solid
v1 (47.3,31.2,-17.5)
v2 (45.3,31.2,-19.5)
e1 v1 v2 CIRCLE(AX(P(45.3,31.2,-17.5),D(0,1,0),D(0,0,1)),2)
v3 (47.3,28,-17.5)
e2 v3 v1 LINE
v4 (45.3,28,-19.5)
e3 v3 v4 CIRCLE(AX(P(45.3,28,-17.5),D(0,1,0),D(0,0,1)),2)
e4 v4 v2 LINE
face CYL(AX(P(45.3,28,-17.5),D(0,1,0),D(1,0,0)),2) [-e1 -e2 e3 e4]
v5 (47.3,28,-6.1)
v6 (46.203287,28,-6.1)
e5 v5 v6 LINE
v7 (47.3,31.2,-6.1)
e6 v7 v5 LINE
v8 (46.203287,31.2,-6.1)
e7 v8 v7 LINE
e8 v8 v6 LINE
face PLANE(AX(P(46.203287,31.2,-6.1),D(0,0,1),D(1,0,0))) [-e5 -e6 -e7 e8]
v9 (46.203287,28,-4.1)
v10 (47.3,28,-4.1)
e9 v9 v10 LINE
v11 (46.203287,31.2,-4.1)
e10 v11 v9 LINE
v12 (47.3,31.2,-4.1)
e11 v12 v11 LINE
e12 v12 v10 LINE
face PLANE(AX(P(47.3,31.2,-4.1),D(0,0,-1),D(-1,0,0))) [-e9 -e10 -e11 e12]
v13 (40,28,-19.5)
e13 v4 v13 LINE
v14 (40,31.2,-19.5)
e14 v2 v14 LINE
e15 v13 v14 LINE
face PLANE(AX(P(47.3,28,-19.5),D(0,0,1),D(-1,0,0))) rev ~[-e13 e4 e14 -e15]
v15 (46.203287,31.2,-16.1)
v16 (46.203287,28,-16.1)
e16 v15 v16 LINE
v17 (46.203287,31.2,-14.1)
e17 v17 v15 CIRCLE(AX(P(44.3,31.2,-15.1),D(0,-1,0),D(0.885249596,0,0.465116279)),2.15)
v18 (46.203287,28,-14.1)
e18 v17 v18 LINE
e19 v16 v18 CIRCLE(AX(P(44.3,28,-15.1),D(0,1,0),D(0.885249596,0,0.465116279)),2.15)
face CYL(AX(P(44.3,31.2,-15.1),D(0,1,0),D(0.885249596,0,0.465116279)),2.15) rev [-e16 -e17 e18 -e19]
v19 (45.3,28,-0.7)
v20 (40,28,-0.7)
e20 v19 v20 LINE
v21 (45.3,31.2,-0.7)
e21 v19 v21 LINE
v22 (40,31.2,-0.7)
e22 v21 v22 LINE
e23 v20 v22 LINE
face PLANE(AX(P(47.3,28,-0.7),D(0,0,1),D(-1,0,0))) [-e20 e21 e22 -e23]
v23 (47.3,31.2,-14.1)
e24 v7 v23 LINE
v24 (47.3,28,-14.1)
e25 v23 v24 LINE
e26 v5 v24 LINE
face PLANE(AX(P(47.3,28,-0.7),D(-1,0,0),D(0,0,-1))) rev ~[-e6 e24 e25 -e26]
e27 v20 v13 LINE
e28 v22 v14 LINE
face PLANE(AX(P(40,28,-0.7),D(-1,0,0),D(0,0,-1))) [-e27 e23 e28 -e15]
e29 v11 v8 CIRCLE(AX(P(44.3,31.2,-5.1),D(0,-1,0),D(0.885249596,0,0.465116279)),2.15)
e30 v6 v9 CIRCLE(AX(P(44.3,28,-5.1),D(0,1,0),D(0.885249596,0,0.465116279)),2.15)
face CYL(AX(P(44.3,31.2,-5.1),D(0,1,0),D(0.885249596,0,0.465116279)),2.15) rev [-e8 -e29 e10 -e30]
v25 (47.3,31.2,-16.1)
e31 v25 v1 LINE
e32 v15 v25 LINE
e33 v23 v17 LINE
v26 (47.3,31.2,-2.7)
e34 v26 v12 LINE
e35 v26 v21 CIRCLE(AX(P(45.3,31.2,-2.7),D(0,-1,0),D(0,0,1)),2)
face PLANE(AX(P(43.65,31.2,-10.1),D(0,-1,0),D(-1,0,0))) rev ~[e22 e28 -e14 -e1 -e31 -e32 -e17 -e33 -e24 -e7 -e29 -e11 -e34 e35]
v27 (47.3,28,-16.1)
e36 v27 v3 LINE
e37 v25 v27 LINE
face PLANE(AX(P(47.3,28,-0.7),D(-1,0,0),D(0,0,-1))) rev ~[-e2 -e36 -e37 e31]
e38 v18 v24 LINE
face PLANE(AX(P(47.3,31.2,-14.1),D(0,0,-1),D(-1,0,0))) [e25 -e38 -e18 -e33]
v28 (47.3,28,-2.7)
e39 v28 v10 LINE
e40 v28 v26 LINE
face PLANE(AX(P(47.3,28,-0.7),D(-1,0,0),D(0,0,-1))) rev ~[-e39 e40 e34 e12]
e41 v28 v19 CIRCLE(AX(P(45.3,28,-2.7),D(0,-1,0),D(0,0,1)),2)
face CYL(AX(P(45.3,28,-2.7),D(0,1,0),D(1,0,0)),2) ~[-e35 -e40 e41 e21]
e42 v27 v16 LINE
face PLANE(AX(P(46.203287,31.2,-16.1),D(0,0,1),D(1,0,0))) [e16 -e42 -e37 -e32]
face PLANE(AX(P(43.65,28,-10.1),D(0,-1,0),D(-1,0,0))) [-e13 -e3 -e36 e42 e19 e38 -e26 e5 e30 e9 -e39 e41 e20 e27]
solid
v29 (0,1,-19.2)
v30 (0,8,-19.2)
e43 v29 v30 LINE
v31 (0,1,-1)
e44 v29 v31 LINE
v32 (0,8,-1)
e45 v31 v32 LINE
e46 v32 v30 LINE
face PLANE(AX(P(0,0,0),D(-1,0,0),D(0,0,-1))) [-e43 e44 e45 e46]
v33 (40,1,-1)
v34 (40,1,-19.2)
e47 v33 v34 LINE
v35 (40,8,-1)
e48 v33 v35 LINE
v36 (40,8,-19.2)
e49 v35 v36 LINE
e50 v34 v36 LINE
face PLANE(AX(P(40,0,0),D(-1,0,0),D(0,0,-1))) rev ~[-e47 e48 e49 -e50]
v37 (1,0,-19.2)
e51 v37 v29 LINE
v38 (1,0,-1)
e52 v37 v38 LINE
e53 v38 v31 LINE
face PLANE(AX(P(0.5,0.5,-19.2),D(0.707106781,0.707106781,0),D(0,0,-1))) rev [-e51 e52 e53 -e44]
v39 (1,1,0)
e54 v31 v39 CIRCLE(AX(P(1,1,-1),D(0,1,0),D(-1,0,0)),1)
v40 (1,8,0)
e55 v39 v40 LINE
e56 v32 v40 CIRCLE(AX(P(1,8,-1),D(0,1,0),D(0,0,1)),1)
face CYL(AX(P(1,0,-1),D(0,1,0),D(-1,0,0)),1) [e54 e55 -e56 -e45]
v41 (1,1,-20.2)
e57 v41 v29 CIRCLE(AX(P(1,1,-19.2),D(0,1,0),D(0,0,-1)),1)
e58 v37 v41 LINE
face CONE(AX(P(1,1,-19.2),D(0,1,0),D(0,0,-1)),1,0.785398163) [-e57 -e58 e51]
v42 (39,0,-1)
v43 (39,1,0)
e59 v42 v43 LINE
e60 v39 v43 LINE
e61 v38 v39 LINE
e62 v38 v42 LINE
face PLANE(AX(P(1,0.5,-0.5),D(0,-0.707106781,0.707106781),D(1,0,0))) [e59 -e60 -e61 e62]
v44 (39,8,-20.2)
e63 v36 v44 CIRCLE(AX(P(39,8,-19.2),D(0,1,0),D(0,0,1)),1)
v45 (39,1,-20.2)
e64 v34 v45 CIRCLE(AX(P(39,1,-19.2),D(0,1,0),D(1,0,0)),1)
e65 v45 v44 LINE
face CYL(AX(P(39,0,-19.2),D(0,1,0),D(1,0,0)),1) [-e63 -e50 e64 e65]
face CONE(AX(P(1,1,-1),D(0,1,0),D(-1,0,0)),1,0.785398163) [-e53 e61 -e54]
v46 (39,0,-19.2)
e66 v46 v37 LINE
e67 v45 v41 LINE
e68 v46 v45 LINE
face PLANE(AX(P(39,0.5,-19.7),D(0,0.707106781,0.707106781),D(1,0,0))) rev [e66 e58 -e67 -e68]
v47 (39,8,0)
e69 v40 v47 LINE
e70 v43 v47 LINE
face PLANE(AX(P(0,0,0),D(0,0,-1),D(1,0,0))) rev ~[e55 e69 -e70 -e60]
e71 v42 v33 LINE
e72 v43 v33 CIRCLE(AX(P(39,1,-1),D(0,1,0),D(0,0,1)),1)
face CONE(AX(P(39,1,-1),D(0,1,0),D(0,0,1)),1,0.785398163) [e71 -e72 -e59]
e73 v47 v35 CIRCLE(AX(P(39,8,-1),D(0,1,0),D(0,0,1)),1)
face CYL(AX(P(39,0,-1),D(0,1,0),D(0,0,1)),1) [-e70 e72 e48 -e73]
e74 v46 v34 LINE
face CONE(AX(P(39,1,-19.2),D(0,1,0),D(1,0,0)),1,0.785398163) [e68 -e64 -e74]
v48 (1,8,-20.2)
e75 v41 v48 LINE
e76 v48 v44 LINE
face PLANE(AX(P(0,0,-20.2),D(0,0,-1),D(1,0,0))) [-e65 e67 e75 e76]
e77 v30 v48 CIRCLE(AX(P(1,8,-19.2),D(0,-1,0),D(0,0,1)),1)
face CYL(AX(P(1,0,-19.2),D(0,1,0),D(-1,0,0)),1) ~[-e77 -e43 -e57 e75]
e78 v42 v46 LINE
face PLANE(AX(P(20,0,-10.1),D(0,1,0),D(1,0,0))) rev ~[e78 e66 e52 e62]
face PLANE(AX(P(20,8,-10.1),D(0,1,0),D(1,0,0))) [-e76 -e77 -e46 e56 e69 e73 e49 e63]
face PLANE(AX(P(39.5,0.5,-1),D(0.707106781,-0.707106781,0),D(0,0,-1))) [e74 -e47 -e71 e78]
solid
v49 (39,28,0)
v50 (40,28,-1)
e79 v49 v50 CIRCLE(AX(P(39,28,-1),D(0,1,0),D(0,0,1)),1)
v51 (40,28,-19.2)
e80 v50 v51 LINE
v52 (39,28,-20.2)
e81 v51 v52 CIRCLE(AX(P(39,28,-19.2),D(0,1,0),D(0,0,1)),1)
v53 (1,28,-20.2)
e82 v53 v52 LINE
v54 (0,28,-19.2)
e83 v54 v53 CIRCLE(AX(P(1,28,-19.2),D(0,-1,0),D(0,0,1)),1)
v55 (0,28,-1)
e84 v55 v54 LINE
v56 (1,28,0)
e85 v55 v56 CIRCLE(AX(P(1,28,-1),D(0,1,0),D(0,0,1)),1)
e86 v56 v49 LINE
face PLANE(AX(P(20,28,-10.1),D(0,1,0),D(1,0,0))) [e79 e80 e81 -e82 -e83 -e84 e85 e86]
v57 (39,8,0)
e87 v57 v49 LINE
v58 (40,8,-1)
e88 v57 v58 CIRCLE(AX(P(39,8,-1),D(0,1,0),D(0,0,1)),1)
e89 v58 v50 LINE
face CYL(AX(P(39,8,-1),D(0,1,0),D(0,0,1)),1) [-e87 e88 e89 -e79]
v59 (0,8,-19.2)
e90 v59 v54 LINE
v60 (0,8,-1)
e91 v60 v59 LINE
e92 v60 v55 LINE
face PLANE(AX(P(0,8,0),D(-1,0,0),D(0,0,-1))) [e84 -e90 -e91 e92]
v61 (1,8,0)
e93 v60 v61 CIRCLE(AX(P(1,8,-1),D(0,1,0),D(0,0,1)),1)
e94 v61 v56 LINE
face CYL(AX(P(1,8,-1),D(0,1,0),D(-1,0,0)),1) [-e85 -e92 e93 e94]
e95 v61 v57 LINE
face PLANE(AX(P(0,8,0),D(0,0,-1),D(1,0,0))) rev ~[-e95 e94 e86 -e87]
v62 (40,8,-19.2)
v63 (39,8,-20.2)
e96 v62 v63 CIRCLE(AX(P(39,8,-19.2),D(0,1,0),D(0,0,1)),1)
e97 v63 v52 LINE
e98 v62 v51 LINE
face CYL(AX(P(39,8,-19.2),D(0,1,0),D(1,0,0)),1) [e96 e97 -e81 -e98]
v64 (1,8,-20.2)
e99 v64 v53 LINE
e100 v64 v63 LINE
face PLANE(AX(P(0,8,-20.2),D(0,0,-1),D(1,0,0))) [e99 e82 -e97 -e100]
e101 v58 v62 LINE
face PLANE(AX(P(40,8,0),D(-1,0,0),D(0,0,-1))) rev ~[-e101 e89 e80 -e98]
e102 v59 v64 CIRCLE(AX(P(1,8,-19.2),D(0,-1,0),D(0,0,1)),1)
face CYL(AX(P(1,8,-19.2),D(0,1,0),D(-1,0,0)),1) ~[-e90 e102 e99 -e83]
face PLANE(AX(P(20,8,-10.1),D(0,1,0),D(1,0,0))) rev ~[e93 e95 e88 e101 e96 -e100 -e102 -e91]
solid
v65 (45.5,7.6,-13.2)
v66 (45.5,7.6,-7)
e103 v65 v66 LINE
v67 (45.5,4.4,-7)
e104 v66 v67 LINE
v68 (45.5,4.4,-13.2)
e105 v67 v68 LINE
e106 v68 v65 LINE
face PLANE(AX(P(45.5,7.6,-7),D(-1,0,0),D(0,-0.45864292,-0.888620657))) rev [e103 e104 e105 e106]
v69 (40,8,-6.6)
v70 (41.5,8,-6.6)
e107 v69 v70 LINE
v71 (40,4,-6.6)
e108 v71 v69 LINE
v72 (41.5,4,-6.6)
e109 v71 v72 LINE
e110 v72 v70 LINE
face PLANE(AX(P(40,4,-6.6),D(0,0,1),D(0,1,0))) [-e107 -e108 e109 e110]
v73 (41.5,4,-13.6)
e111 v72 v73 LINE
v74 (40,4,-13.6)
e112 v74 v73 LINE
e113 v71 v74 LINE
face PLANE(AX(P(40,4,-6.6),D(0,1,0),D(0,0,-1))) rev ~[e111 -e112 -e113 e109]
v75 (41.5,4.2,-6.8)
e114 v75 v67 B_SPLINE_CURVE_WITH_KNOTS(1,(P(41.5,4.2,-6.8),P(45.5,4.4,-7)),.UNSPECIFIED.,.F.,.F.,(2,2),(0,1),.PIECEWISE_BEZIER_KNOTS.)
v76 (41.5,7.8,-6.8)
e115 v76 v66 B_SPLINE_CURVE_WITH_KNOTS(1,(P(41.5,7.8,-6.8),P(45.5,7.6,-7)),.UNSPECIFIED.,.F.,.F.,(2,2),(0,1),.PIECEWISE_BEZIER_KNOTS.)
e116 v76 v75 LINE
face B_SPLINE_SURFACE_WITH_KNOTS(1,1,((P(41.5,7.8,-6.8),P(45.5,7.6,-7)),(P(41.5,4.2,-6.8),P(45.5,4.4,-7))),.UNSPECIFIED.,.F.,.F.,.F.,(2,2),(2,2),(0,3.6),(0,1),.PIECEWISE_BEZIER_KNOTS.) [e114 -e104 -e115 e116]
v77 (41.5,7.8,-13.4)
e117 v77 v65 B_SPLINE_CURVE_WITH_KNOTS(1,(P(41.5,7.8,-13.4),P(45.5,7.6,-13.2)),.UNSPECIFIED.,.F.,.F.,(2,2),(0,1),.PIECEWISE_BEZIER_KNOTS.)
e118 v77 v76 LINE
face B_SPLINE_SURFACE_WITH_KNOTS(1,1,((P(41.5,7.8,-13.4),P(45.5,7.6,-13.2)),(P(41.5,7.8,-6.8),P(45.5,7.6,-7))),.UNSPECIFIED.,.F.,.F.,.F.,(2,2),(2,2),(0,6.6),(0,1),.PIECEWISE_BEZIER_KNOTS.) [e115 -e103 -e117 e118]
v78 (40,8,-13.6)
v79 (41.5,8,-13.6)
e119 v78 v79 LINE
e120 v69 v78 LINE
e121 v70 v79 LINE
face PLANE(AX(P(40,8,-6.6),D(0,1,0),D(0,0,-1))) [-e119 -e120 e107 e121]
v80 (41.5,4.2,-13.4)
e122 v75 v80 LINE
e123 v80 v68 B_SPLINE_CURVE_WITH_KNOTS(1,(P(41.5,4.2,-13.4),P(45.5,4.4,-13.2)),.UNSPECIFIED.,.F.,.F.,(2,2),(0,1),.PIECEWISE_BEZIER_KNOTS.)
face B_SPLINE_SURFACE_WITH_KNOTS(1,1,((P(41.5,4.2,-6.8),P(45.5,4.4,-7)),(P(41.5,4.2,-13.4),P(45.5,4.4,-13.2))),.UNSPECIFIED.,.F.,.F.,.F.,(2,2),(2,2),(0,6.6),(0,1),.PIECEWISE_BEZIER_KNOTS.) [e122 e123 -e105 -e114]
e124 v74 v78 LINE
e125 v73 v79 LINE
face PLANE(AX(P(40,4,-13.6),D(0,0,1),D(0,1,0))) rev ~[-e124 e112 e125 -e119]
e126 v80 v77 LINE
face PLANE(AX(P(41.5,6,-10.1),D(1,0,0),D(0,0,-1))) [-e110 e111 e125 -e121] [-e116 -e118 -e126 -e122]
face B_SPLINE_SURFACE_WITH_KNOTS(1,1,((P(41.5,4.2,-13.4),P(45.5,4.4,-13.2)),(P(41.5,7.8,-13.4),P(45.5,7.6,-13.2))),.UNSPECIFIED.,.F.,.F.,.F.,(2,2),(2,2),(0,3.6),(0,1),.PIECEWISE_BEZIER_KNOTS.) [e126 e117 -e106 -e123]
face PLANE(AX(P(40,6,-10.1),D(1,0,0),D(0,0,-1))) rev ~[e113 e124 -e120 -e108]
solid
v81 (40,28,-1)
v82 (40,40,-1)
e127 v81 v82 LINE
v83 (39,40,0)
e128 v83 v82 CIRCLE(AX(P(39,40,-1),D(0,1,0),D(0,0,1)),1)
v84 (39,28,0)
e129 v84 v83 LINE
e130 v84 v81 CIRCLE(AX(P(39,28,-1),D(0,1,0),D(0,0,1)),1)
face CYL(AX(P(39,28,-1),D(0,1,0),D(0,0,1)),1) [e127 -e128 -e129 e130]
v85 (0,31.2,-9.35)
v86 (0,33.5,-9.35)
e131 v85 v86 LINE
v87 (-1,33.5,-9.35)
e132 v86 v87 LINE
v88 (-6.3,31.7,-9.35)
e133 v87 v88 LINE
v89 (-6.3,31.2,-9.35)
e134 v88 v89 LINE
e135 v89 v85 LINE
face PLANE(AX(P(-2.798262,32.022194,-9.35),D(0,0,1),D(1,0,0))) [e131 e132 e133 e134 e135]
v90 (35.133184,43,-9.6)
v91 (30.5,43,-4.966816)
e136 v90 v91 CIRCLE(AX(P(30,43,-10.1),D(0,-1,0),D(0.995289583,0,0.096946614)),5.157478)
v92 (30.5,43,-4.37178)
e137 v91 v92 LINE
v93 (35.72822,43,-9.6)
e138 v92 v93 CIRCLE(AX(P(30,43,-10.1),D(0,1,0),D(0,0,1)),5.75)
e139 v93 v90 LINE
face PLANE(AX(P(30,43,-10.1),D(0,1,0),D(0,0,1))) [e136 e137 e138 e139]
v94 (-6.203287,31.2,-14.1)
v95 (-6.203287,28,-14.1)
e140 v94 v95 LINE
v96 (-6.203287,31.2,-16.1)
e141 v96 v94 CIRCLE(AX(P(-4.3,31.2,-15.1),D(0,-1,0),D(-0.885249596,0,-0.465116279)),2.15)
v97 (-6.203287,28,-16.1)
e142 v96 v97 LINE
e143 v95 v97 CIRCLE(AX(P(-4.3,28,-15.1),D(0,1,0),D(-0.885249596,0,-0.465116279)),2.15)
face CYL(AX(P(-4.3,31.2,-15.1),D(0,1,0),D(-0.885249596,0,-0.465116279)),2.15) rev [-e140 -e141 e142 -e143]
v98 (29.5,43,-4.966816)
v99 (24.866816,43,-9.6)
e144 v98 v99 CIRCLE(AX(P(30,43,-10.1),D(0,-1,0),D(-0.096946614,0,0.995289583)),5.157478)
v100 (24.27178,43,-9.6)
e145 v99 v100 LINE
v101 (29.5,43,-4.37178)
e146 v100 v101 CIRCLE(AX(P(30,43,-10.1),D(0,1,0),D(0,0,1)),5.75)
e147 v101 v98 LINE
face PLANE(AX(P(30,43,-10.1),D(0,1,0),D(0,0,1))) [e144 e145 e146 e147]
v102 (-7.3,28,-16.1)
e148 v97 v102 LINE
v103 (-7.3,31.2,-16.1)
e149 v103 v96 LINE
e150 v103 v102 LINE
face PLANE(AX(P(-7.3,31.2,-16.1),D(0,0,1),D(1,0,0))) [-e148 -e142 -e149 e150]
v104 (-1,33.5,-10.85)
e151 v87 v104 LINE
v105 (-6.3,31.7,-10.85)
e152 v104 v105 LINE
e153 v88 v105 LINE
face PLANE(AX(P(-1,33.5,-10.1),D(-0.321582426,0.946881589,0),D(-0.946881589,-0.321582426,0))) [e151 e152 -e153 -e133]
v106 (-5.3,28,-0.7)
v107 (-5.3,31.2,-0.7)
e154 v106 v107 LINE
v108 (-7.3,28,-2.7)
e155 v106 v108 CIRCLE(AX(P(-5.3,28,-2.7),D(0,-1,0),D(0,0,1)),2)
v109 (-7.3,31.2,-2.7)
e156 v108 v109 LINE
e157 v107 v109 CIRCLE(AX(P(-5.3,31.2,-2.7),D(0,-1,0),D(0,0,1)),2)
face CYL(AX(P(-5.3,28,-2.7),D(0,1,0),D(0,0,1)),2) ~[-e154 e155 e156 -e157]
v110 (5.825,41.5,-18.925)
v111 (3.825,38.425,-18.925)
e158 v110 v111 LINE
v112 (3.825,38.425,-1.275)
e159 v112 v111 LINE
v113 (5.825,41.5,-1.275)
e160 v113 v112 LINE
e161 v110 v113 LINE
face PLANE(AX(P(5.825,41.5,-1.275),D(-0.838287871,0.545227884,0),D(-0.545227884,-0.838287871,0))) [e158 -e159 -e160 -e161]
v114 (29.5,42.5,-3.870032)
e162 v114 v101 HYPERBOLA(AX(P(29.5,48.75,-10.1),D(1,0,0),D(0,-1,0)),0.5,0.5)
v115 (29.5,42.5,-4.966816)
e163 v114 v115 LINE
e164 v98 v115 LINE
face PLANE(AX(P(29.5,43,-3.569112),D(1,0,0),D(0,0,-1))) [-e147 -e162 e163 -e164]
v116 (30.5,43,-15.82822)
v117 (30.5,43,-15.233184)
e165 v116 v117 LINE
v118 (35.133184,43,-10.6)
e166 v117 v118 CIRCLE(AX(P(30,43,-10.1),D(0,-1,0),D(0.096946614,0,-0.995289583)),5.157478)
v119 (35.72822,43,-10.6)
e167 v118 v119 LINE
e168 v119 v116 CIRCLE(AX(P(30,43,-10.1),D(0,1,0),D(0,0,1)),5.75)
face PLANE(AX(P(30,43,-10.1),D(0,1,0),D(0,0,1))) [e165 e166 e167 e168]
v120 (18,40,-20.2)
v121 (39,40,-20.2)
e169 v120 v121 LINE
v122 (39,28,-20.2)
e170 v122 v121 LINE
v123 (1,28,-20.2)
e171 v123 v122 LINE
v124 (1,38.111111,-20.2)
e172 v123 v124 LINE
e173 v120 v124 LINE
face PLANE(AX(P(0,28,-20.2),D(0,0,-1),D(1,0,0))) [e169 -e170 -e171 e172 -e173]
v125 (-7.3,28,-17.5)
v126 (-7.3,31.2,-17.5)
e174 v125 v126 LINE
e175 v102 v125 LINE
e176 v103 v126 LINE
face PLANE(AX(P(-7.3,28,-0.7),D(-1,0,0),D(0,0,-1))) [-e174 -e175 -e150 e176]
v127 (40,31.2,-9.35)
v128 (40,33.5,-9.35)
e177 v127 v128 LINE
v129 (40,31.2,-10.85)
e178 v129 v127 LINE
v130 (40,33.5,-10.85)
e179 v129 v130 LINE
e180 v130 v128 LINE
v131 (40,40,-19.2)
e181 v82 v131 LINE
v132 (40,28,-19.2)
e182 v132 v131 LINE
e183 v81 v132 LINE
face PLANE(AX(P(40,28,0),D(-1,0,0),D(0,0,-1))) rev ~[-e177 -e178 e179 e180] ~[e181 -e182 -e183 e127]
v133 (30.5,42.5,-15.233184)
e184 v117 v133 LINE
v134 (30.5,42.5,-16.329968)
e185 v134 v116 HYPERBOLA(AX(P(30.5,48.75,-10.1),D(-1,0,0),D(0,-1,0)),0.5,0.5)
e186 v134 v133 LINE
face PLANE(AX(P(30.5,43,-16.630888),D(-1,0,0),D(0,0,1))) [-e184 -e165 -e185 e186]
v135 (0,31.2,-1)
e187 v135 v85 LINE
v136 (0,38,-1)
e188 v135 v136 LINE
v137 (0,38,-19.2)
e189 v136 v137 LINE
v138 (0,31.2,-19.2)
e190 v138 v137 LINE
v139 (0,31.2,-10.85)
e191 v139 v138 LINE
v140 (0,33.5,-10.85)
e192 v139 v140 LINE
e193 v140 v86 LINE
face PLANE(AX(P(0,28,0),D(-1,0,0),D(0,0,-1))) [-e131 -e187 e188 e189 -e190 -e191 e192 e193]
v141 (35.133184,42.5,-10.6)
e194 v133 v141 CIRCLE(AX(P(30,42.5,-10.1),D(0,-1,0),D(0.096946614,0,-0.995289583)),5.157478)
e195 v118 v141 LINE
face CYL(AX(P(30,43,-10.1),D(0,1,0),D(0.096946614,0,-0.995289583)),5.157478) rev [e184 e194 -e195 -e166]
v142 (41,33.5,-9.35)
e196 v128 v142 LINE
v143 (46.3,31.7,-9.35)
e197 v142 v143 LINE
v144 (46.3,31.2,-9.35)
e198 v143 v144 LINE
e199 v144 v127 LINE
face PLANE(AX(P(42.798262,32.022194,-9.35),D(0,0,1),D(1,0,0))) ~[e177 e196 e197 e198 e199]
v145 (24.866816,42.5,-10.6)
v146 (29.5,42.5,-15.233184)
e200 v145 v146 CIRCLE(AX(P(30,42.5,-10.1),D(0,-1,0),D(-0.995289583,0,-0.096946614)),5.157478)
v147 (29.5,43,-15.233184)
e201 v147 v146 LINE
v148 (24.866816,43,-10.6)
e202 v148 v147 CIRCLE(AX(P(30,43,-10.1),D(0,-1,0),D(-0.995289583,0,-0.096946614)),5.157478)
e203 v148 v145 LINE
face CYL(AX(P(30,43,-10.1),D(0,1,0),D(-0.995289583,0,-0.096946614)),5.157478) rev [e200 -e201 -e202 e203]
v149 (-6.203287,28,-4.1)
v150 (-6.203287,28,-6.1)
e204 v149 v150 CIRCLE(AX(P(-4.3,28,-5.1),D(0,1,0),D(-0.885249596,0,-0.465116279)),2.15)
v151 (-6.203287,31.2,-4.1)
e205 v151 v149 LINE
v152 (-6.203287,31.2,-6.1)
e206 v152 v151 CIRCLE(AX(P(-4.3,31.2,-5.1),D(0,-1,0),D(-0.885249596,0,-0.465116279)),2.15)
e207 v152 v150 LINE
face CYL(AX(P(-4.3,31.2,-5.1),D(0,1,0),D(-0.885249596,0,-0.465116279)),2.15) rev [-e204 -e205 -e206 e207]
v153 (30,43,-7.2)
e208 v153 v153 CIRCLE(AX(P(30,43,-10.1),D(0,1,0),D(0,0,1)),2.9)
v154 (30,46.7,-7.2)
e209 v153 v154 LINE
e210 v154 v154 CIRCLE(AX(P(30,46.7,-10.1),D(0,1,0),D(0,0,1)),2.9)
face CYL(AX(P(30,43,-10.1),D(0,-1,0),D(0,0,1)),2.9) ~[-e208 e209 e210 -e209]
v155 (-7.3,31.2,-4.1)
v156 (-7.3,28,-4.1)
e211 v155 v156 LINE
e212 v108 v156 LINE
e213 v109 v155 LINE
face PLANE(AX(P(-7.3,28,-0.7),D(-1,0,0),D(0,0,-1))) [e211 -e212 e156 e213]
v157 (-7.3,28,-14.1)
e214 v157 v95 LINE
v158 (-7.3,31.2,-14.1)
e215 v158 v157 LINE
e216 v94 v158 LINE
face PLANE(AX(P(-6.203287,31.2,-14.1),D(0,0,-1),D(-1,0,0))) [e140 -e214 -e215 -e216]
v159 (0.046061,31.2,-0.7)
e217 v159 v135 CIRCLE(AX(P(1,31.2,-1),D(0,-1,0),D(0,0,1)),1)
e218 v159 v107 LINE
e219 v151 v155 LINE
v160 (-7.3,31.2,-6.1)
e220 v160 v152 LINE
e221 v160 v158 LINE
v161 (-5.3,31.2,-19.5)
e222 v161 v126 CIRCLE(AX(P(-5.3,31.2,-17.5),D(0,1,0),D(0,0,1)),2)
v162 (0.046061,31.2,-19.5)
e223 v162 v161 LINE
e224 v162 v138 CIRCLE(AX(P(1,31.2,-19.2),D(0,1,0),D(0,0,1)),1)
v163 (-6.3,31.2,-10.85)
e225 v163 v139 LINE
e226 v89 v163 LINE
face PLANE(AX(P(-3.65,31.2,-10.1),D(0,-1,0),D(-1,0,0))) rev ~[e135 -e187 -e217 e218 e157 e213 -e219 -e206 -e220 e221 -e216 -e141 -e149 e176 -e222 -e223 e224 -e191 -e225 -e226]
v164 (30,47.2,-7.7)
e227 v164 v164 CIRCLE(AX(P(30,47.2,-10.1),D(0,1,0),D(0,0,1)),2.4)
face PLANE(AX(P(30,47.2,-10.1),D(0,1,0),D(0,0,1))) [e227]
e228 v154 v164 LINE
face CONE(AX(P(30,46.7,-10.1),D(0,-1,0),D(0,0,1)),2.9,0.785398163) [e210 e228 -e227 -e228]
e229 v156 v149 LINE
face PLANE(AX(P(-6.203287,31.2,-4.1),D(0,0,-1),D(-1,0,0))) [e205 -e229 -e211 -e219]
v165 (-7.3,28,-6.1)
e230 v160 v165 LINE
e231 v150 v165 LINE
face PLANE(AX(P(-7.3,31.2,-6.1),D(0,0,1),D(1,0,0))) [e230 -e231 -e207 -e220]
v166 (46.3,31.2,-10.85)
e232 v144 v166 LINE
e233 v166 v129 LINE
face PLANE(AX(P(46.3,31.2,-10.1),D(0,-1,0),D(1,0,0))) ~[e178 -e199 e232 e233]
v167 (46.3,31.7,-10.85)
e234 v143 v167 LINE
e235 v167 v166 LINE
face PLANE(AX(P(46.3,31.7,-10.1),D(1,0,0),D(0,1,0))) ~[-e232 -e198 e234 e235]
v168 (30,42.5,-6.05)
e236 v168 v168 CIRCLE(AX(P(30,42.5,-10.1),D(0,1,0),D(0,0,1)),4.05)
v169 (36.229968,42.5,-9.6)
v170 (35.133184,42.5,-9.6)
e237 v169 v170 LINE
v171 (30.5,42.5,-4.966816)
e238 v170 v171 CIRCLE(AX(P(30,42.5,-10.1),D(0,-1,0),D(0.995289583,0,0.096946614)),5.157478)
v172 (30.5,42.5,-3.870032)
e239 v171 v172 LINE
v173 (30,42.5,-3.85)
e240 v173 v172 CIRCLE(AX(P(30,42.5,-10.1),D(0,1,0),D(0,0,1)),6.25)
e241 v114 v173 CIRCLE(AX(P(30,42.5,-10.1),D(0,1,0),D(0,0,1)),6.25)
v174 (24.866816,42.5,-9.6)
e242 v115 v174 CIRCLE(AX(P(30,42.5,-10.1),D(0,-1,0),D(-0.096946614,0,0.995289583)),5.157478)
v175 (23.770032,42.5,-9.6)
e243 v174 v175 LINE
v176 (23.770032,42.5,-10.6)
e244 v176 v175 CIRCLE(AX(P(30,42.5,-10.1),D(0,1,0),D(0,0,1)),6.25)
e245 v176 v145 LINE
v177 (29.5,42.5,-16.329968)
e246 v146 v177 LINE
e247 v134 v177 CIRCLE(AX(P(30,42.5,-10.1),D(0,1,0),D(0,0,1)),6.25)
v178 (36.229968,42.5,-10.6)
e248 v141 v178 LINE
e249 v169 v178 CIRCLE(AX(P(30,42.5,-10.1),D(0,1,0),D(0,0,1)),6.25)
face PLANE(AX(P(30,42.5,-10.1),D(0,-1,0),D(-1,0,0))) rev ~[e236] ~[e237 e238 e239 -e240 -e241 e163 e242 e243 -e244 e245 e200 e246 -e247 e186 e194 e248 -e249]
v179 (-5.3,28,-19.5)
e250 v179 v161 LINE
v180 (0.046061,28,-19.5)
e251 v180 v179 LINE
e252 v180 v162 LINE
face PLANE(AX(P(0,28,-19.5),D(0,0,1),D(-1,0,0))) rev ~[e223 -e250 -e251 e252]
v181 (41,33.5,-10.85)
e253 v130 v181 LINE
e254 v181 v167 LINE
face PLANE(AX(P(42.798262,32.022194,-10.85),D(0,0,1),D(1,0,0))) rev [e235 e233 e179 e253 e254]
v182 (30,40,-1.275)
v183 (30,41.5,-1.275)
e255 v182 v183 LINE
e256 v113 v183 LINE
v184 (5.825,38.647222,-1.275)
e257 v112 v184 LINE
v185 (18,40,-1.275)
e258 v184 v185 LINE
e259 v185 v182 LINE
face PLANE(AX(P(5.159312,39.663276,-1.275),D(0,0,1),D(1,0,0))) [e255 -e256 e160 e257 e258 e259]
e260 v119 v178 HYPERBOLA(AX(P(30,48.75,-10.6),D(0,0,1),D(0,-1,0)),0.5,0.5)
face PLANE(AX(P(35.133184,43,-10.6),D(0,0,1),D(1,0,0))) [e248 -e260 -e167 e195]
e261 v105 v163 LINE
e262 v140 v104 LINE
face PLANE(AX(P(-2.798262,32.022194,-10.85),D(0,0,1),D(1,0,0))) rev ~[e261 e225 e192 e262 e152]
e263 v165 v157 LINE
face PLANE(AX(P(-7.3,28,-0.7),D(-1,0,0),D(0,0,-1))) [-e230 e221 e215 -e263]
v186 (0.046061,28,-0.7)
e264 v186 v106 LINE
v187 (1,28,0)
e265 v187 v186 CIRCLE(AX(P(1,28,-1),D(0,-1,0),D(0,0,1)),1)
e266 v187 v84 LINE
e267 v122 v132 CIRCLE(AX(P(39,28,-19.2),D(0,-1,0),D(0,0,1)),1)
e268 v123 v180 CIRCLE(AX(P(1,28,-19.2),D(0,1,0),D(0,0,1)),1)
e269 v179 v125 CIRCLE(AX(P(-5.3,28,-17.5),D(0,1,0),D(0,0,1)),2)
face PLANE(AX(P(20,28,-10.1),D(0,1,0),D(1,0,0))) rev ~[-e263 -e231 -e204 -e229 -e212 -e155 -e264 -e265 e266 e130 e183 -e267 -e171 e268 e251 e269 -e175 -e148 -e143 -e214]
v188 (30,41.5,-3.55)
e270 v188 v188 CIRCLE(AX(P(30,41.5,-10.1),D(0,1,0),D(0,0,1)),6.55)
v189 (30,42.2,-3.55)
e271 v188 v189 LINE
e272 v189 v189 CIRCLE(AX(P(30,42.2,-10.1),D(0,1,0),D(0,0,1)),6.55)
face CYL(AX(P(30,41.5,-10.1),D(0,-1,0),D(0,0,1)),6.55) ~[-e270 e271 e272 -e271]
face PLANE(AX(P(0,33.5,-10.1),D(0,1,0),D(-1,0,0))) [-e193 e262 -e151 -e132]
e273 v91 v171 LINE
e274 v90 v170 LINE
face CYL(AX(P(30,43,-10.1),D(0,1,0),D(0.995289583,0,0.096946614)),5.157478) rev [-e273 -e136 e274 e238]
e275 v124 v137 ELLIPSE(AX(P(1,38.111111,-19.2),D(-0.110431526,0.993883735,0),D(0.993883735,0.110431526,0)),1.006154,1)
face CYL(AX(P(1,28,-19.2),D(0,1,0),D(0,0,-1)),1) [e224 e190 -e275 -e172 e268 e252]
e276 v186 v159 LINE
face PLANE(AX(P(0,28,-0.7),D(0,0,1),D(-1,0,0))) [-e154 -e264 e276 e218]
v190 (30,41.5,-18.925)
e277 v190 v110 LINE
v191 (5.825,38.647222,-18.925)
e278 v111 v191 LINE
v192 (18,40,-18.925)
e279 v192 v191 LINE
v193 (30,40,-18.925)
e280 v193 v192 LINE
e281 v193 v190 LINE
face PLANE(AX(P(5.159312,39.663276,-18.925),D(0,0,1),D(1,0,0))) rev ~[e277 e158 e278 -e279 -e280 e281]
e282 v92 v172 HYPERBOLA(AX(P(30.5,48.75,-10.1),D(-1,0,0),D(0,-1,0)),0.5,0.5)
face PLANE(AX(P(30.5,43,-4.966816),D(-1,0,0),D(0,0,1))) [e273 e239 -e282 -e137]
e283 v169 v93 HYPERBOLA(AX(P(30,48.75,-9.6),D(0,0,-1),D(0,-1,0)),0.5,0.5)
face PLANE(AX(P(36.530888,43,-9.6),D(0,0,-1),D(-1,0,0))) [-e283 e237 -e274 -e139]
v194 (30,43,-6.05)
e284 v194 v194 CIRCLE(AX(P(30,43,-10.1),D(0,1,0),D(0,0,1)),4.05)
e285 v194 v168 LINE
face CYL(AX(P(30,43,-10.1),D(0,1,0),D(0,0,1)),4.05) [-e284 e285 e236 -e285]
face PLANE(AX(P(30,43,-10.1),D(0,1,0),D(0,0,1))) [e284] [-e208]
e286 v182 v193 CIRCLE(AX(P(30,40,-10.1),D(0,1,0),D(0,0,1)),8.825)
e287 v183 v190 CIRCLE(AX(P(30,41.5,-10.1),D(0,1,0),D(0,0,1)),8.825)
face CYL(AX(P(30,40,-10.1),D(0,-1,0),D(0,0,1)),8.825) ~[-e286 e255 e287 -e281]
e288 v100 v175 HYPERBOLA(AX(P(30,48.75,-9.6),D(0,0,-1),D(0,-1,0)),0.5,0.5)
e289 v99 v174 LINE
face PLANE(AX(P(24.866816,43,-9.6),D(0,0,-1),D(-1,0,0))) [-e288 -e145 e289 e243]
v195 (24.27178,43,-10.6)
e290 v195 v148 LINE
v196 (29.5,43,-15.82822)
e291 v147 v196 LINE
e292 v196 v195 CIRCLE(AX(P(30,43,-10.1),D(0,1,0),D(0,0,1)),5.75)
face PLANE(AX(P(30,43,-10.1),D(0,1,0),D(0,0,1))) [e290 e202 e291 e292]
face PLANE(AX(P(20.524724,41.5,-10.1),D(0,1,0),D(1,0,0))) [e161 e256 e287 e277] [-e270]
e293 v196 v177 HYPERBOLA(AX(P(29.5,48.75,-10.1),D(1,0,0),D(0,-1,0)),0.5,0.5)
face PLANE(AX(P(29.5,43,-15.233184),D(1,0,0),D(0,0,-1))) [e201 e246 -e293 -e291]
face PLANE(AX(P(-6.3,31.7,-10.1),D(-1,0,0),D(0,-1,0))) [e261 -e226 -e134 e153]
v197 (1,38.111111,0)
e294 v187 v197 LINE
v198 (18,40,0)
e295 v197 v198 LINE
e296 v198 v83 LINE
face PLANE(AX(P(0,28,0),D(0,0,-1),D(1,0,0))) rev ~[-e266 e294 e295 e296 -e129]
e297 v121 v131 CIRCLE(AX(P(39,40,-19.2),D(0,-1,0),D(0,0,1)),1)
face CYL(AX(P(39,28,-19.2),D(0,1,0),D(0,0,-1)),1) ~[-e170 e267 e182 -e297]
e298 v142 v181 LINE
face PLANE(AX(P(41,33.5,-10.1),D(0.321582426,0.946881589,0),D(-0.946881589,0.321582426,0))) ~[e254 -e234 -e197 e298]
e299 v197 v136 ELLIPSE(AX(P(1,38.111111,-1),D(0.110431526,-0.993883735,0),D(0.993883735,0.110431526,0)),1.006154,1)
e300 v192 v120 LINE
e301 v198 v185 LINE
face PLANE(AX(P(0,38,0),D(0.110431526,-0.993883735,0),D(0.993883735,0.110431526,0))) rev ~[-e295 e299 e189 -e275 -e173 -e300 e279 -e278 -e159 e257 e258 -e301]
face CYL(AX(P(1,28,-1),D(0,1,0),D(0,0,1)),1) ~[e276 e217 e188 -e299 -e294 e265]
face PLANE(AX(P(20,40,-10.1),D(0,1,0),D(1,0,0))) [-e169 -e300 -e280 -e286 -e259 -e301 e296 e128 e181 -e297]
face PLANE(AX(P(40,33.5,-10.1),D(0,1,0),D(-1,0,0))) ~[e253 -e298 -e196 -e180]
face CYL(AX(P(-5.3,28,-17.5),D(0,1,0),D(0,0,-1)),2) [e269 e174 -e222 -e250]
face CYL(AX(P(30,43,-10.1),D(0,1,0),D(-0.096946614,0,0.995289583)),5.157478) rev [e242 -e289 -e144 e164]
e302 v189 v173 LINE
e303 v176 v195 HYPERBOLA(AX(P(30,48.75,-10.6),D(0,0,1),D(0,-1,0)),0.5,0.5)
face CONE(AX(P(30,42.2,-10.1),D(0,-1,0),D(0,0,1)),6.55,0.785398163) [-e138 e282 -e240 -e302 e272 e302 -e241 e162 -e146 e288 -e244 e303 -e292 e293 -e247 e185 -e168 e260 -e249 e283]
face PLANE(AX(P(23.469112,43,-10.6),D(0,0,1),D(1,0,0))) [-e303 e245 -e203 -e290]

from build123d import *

# Parameters (mm, degrees)
SKETCH1_W                       = 40
SKETCH1_H                       = 20.2
BOSS_EXTRUDE1_DEPTH             = 8
SKETCH3_W                       = 40
SKETCH3_H                       = 20.2
BOSS_EXTRUDE2_DEPTH             = 20
SKETCH4_W                       = 40
SKETCH4_H                       = 20.2
BOSS_EXTRUDE5_DEPTH             = 12
CUT_EXTRUDE1_DEPTH              = 61.066962633
SKETCH6_W                       = 7.3
SKETCH6_H                       = 18.8
BOSS_EXTRUDE6_DEPTH             = 3.2
BOSS_EXTRUDE6_2_DEPTH           = 3.2
CUT_EXTRUDE2_DEPTH              = 61.156213312
BOSS_EXTRUDE7_DEPTH             = 0.75
FILLET1_R                       = 2
FILLET3_R                       = 2
BOSS_EXTRUDE8_DEPTH             = 1.5
BOSS_EXTRUDE8_DIRECTION_2_REACH = 67.156
BOSS_EXTRUDE9_DEPTH             = 17.65
SKETCH11_R                      = 6.55
BOSS_EXTRUDE10_DEPTH            = 1.5
CHAMFER1_SIZE                   = 0.8
SKETCH12_R                      = 4.05
CUT_EXTRUDE3_DEPTH              = 0.5
SKETCH13_R                      = 2.9
BOSS_EXTRUDE11_DEPTH            = 4.2
CHAMFER2_SIZE                   = 0.5
FILLET4_R                       = 1
FILLET5_R                       = 1
FILLET6_R                       = 1
CHAMFER3_SIZE                   = 1
SKETCH14_W                      = 7
SKETCH14_H                      = 4
BOSS_EXTRUDE13_DEPTH            = 1.5


with BuildPart() as part:
    # Sketch1 → Boss-Extrude1 (new body)
    with BuildSketch(Plane(origin=(0, 0, 0), x_dir=(1, 0, 0), z_dir=(0, 1, 0))):
        with Locations((20, 10.1)):
            Rectangle(SKETCH1_W, SKETCH1_H)
    extrude(amount=BOSS_EXTRUDE1_DEPTH)

    # Fillet5
    fillet5_edges = [part.edges().sort_by_distance(p)[0] for p in [
        (0, 4, -20.2),
        (40, 4, -20.2),
        (40, 4, 0),
        (0, 4, 0),
    ]]
    fillet(fillet5_edges, radius=FILLET5_R)

    # Chamfer3
    chamfer3_edges = [part.edges().sort_by_distance(p)[0] for p in [
        (20, 0, 0),
        (0, 0, -10.1),
        (20, 0, -20.2),
        (40, 0, -10.1),
        (39.707106781, 0, -19.907106781),
        (39.707106781, 0, -0.292893219),
        (0.292893219, 0, -19.907106781),
        (0.292893219, 0, -0.292893219),
    ]]
    chamfer(chamfer3_edges, length=CHAMFER3_SIZE)


with BuildPart() as body_2:
    # Sketch3 → Boss-Extrude2 (new body)
    with BuildSketch(Plane(origin=(0, 8, 0), x_dir=(1, 0, 0), z_dir=(0, 1, 0))):
        with Locations((20, 10.1)):
            Rectangle(SKETCH3_W, SKETCH3_H)
    extrude(amount=BOSS_EXTRUDE2_DEPTH)

    # Fillet6
    fillet6_edges = [body_2.edges().sort_by_distance(p)[0] for p in [
        (0, 18, -20.2),
        (40, 18, -20.2),
        (40, 18, 0),
        (0, 18, 0),
    ]]
    fillet(fillet6_edges, radius=FILLET6_R)


with BuildPart() as body_3:
    # Sketch4 → Boss-Extrude5 (new body)
    with BuildSketch(Plane(origin=(0, 28, 0), x_dir=(1, 0, 0), z_dir=(0, 1, 0))):
        with Locations((20, 10.1)):
            Rectangle(SKETCH4_W, SKETCH4_H)
    extrude(amount=BOSS_EXTRUDE5_DEPTH)

    # Sketch5 → Cut-Extrude1 (cut, through all)
    with BuildSketch(Plane.XY):
        Polygon((0, 38), (18, 40), (0, 40), align=None)
    extrude(amount=-CUT_EXTRUDE1_DEPTH, mode=Mode.SUBTRACT)



with BuildPart() as body_4:
    # Sketch6 → Boss-Extrude6 (new body)
    with BuildSketch(Plane(origin=(0, 28, 0), x_dir=(-1, 0, 0), z_dir=(0, -1, 0))):
        with Locations((3.65, 10.1)):
            Rectangle(SKETCH6_W, SKETCH6_H)
    extrude(amount=-BOSS_EXTRUDE6_DEPTH)


with BuildPart() as body_5:
    # Sketch6 → Boss-Extrude6 2 (new body)
    with BuildSketch(Plane(origin=(0, 28, 0), x_dir=(-1, 0, 0), z_dir=(0, -1, 0))):
        with Locations((-43.65, 10.1)):
            Rectangle(SKETCH6_W, SKETCH6_H)
    extrude(amount=-BOSS_EXTRUDE6_2_DEPTH)


with BuildPart() as cut_extrude2_tool:
    # Sketch7 → Cut-Extrude2 (new, through all)
    with BuildSketch(Plane(origin=(0, 31.2, 0), x_dir=(1, 0, 0), z_dir=(0, 1, 0))):
        with BuildLine():
            Line((-6.203286631, 4.1), (-7.3, 4.1))
            Line((-7.3, 4.1), (-7.3, 6.1))
            Line((-7.3, 6.1), (-6.203286631, 6.1))
            ThreePointArc((-6.203286631, 6.1), (-2.15, 5.1), (-6.203286631, 4.1))
        make_face()
        with BuildLine():
            Line((-6.203286631, 14.1), (-7.3, 14.1))
            Line((-7.3, 14.1), (-7.3, 16.1))
            Line((-7.3, 16.1), (-6.203286631, 16.1))
            ThreePointArc((-6.203286631, 16.1), (-2.15, 15.1), (-6.203286631, 14.1))
        make_face()
        with BuildLine():
            Line((46.203286631, 6.1), (47.3, 6.1))
            Line((47.3, 6.1), (47.3, 4.1))
            Line((47.3, 4.1), (46.203286631, 4.1))
            ThreePointArc((46.203286631, 4.1), (42.15, 5.1), (46.203286631, 6.1))
        make_face()
        with BuildLine():
            Line((46.203286631, 16.1), (47.3, 16.1))
            Line((47.3, 16.1), (47.3, 14.1))
            Line((47.3, 14.1), (46.203286631, 14.1))
            ThreePointArc((46.203286631, 14.1), (42.15, 15.1), (46.203286631, 16.1))
        make_face()
    extrude(amount=-CUT_EXTRUDE2_DEPTH)


with BuildPart() as body_4_1:
    add(body_4.part)

    # Cut-Extrude2: cut by cut_extrude2_tool
    add(cut_extrude2_tool.part, mode=Mode.SUBTRACT)


with BuildPart() as body_5_1:
    add(body_5.part)

    # Cut-Extrude2: cut by cut_extrude2_tool
    add(cut_extrude2_tool.part, mode=Mode.SUBTRACT)

    # Fillet3
    fillet3_edges = [body_5_1.edges().sort_by_distance(p)[0] for p in [
        (47.3, 29.6, -19.5),
        (47.3, 29.6, -0.7),
    ]]
    fillet(fillet3_edges, radius=FILLET3_R)


with BuildPart() as body_3_1:
    add(body_3.part)

    add(body_4_1.part)  # Boss-Extrude7 merges body 4
    # Sketch8 → Boss-Extrude7 (add, symmetric)
    with BuildSketch(Plane.XY.offset(-10.1)):
        Polygon((-6.3, 31.2), (0, 31.2), (0, 33.5), (-1, 33.5), (-6.3, 31.7), align=None)
    boss_extrude7 = extrude(amount=BOSS_EXTRUDE7_DEPTH, both=True)

    # Fillet1
    fillet1_edges = [body_3_1.edges().sort_by_distance(p)[0] for p in [
        (-7.3, 29.6, -19.5),
        (-7.3, 29.6, -0.7),
    ]]
    fillet(fillet1_edges, radius=FILLET1_R)

    # Mirror12: Boss-Extrude7 across plane
    add(boss_extrude7.mirror(Plane.ZY.offset(-20)))

    # Sketch9 → Boss-Extrude8 (add)
    with BuildSketch(Plane(origin=(0, 40, 0), x_dir=(1, 0, 0), z_dir=(0, 1, 0))):
        with BuildLine():
            Line((30, 18.925), (5.825, 18.925))
            Line((5.825, 18.925), (5.825, 1.275))
            Line((5.825, 1.275), (30, 1.275))
            ThreePointArc((30, 1.275), (38.825, 10.1), (30, 18.925))
        make_face()
    extrude(amount=BOSS_EXTRUDE8_DEPTH)

    # Sketch9 → Boss-Extrude8 direction 2 (add, up to next)
    with BuildSketch(Plane(origin=(0, 40, 0), x_dir=(1, 0, 0), z_dir=(0, 1, 0)), mode=Mode.PRIVATE) as boss_extrude8_direction_2_sk1:
        with BuildLine():
            Line((30, 18.925), (5.825, 18.925))
            Line((5.825, 18.925), (5.825, 1.275))
            Line((5.825, 1.275), (30, 1.275))
            ThreePointArc((30, 1.275), (38.825, 10.1), (30, 18.925))
        make_face()
    boss_extrude8_direction_2_tool1 = extrude(boss_extrude8_direction_2_sk1.sketch, amount=-BOSS_EXTRUDE8_DIRECTION_2_REACH, mode=Mode.PRIVATE) - body_3_1.part
    add(boss_extrude8_direction_2_tool1.solids().sort_by_distance((21.440432, 40, -10.1))[0])

    # Sketch10 → Boss-Extrude9 (add)
    with BuildSketch(Plane.XY.offset(-1.275)):
        Polygon((5.825, 41.5), (3.825, 38.425), (5.825, 38.647222222), align=None)
    extrude(amount=-BOSS_EXTRUDE9_DEPTH)

    # Sketch11 → Boss-Extrude10 (add)
    with BuildSketch(Plane(origin=(0, 41.5, 0), x_dir=(1, 0, 0), z_dir=(0, 1, 0))):
        with Locations(Location((30, 10.1, 0), (0, 0, 270))):
            Circle(SKETCH11_R)
    extrude(amount=BOSS_EXTRUDE10_DEPTH)

    # Chamfer1
    chamfer1_edges = [body_3_1.edges().sort_by_distance(p)[0] for p in [
        (30, 43, -16.65),
    ]]
    chamfer(chamfer1_edges, length=CHAMFER1_SIZE)

    # Sketch12 → Cut-Extrude3 (cut)
    with BuildSketch(Plane(origin=(0, 43, 0), x_dir=(1, 0, 0), z_dir=(0, 1, 0))):
        with BuildLine():
            Line((29.5, 15.233183841), (29.5, 16.630888148))
            ThreePointArc((29.5, 16.630888148), (30, 16.65), (30.5, 16.630888148))
            Line((30.5, 16.630888148), (30.5, 15.233183841))
            ThreePointArc((30.5, 15.233183841), (33.646887464, 13.746887464), (35.133183841, 10.6))
            Line((35.133183841, 10.6), (36.530888148, 10.6))
            ThreePointArc((36.530888148, 10.6), (36.55, 10.1), (36.530888148, 9.6))
            Line((36.530888148, 9.6), (35.133183841, 9.6))
            ThreePointArc((35.133183841, 9.6), (33.646887464, 6.453112536), (30.5, 4.966816159))
            Line((30.5, 4.966816159), (30.5, 3.569111852))
            ThreePointArc((30.5, 3.569111852), (30, 3.55), (29.5, 3.569111852))
            Line((29.5, 3.569111852), (29.5, 4.966816159))
            ThreePointArc((29.5, 4.966816159), (26.353112536, 6.453112536), (24.866816159, 9.6))
            Line((24.866816159, 9.6), (23.469111852, 9.6))
            ThreePointArc((23.469111852, 9.6), (23.45, 10.1), (23.469111852, 10.6))
            Line((23.469111852, 10.6), (24.866816159, 10.6))
            ThreePointArc((24.866816159, 10.6), (26.353112536, 13.746887464), (29.5, 15.233183841))
        make_face()
        with Locations(Location((30, 10.1, 0), (0, 0, 270))):
            Circle(SKETCH12_R, mode=Mode.SUBTRACT)
    extrude(amount=-CUT_EXTRUDE3_DEPTH, mode=Mode.SUBTRACT)

    # Sketch13 → Boss-Extrude11 (add)
    with BuildSketch(Plane(origin=(0, 43, 0), x_dir=(1, 0, 0), z_dir=(0, 1, 0))):
        with Locations(Location((30, 10.1, 0), (0, 0, 270))):
            Circle(SKETCH13_R)
    extrude(amount=BOSS_EXTRUDE11_DEPTH)

    # Chamfer2
    chamfer2_edges = [body_3_1.edges().sort_by_distance(p)[0] for p in [
        (30, 47.2, -13),
    ]]
    chamfer(chamfer2_edges, length=CHAMFER2_SIZE)

    # Fillet4
    fillet4_edges = [body_3_1.edges().sort_by_distance(p)[0] for p in [
        (0, 33, -20.2),
        (40, 34, -20.2),
        (40, 34, 0),
        (0, 33, 0),
    ]]
    fillet(fillet4_edges, radius=FILLET4_R)


with BuildPart() as body_5_2:
    # Sketch14 → Boss-Extrude13 (new body)
    with BuildSketch(Plane(origin=(40, 0, 0), x_dir=(0, 0, -1), z_dir=(1, 0, 0))):
        with Locations((10.1, 6)):
            Rectangle(SKETCH14_W, SKETCH14_H)
    extrude(amount=BOSS_EXTRUDE13_DEPTH)

    # Sketch15 → Loft1 section 0
    with BuildSketch(Plane(origin=(41.5, 0, 0), x_dir=(0, 0, -1), z_dir=(1, 0, 0))):
        with BuildLine():
            Line((6.8, 7.8), (6.8, 4.2))
            Line((6.8, 4.2), (13.4, 4.2))
            Line((13.4, 4.2), (13.4, 7.8))
            Line((13.4, 7.8), (6.8, 7.8))
        make_face()
    # Sketch16 → Loft1 section 1
    with BuildSketch(Plane(origin=(45.5, 0, 0), x_dir=(0, 0, -1), z_dir=(1, 0, 0))):
        with BuildLine():
            Line((7, 7.6), (7, 4.4))
            Line((7, 4.4), (13.2, 4.4))
            Line((13.2, 4.4), (13.2, 7.6))
            Line((13.2, 7.6), (7, 7.6))
        make_face()
    loft()


solid = Compound([part.part, body_2.part, body_5_1.part, body_3_1.part, body_5_2.part])
